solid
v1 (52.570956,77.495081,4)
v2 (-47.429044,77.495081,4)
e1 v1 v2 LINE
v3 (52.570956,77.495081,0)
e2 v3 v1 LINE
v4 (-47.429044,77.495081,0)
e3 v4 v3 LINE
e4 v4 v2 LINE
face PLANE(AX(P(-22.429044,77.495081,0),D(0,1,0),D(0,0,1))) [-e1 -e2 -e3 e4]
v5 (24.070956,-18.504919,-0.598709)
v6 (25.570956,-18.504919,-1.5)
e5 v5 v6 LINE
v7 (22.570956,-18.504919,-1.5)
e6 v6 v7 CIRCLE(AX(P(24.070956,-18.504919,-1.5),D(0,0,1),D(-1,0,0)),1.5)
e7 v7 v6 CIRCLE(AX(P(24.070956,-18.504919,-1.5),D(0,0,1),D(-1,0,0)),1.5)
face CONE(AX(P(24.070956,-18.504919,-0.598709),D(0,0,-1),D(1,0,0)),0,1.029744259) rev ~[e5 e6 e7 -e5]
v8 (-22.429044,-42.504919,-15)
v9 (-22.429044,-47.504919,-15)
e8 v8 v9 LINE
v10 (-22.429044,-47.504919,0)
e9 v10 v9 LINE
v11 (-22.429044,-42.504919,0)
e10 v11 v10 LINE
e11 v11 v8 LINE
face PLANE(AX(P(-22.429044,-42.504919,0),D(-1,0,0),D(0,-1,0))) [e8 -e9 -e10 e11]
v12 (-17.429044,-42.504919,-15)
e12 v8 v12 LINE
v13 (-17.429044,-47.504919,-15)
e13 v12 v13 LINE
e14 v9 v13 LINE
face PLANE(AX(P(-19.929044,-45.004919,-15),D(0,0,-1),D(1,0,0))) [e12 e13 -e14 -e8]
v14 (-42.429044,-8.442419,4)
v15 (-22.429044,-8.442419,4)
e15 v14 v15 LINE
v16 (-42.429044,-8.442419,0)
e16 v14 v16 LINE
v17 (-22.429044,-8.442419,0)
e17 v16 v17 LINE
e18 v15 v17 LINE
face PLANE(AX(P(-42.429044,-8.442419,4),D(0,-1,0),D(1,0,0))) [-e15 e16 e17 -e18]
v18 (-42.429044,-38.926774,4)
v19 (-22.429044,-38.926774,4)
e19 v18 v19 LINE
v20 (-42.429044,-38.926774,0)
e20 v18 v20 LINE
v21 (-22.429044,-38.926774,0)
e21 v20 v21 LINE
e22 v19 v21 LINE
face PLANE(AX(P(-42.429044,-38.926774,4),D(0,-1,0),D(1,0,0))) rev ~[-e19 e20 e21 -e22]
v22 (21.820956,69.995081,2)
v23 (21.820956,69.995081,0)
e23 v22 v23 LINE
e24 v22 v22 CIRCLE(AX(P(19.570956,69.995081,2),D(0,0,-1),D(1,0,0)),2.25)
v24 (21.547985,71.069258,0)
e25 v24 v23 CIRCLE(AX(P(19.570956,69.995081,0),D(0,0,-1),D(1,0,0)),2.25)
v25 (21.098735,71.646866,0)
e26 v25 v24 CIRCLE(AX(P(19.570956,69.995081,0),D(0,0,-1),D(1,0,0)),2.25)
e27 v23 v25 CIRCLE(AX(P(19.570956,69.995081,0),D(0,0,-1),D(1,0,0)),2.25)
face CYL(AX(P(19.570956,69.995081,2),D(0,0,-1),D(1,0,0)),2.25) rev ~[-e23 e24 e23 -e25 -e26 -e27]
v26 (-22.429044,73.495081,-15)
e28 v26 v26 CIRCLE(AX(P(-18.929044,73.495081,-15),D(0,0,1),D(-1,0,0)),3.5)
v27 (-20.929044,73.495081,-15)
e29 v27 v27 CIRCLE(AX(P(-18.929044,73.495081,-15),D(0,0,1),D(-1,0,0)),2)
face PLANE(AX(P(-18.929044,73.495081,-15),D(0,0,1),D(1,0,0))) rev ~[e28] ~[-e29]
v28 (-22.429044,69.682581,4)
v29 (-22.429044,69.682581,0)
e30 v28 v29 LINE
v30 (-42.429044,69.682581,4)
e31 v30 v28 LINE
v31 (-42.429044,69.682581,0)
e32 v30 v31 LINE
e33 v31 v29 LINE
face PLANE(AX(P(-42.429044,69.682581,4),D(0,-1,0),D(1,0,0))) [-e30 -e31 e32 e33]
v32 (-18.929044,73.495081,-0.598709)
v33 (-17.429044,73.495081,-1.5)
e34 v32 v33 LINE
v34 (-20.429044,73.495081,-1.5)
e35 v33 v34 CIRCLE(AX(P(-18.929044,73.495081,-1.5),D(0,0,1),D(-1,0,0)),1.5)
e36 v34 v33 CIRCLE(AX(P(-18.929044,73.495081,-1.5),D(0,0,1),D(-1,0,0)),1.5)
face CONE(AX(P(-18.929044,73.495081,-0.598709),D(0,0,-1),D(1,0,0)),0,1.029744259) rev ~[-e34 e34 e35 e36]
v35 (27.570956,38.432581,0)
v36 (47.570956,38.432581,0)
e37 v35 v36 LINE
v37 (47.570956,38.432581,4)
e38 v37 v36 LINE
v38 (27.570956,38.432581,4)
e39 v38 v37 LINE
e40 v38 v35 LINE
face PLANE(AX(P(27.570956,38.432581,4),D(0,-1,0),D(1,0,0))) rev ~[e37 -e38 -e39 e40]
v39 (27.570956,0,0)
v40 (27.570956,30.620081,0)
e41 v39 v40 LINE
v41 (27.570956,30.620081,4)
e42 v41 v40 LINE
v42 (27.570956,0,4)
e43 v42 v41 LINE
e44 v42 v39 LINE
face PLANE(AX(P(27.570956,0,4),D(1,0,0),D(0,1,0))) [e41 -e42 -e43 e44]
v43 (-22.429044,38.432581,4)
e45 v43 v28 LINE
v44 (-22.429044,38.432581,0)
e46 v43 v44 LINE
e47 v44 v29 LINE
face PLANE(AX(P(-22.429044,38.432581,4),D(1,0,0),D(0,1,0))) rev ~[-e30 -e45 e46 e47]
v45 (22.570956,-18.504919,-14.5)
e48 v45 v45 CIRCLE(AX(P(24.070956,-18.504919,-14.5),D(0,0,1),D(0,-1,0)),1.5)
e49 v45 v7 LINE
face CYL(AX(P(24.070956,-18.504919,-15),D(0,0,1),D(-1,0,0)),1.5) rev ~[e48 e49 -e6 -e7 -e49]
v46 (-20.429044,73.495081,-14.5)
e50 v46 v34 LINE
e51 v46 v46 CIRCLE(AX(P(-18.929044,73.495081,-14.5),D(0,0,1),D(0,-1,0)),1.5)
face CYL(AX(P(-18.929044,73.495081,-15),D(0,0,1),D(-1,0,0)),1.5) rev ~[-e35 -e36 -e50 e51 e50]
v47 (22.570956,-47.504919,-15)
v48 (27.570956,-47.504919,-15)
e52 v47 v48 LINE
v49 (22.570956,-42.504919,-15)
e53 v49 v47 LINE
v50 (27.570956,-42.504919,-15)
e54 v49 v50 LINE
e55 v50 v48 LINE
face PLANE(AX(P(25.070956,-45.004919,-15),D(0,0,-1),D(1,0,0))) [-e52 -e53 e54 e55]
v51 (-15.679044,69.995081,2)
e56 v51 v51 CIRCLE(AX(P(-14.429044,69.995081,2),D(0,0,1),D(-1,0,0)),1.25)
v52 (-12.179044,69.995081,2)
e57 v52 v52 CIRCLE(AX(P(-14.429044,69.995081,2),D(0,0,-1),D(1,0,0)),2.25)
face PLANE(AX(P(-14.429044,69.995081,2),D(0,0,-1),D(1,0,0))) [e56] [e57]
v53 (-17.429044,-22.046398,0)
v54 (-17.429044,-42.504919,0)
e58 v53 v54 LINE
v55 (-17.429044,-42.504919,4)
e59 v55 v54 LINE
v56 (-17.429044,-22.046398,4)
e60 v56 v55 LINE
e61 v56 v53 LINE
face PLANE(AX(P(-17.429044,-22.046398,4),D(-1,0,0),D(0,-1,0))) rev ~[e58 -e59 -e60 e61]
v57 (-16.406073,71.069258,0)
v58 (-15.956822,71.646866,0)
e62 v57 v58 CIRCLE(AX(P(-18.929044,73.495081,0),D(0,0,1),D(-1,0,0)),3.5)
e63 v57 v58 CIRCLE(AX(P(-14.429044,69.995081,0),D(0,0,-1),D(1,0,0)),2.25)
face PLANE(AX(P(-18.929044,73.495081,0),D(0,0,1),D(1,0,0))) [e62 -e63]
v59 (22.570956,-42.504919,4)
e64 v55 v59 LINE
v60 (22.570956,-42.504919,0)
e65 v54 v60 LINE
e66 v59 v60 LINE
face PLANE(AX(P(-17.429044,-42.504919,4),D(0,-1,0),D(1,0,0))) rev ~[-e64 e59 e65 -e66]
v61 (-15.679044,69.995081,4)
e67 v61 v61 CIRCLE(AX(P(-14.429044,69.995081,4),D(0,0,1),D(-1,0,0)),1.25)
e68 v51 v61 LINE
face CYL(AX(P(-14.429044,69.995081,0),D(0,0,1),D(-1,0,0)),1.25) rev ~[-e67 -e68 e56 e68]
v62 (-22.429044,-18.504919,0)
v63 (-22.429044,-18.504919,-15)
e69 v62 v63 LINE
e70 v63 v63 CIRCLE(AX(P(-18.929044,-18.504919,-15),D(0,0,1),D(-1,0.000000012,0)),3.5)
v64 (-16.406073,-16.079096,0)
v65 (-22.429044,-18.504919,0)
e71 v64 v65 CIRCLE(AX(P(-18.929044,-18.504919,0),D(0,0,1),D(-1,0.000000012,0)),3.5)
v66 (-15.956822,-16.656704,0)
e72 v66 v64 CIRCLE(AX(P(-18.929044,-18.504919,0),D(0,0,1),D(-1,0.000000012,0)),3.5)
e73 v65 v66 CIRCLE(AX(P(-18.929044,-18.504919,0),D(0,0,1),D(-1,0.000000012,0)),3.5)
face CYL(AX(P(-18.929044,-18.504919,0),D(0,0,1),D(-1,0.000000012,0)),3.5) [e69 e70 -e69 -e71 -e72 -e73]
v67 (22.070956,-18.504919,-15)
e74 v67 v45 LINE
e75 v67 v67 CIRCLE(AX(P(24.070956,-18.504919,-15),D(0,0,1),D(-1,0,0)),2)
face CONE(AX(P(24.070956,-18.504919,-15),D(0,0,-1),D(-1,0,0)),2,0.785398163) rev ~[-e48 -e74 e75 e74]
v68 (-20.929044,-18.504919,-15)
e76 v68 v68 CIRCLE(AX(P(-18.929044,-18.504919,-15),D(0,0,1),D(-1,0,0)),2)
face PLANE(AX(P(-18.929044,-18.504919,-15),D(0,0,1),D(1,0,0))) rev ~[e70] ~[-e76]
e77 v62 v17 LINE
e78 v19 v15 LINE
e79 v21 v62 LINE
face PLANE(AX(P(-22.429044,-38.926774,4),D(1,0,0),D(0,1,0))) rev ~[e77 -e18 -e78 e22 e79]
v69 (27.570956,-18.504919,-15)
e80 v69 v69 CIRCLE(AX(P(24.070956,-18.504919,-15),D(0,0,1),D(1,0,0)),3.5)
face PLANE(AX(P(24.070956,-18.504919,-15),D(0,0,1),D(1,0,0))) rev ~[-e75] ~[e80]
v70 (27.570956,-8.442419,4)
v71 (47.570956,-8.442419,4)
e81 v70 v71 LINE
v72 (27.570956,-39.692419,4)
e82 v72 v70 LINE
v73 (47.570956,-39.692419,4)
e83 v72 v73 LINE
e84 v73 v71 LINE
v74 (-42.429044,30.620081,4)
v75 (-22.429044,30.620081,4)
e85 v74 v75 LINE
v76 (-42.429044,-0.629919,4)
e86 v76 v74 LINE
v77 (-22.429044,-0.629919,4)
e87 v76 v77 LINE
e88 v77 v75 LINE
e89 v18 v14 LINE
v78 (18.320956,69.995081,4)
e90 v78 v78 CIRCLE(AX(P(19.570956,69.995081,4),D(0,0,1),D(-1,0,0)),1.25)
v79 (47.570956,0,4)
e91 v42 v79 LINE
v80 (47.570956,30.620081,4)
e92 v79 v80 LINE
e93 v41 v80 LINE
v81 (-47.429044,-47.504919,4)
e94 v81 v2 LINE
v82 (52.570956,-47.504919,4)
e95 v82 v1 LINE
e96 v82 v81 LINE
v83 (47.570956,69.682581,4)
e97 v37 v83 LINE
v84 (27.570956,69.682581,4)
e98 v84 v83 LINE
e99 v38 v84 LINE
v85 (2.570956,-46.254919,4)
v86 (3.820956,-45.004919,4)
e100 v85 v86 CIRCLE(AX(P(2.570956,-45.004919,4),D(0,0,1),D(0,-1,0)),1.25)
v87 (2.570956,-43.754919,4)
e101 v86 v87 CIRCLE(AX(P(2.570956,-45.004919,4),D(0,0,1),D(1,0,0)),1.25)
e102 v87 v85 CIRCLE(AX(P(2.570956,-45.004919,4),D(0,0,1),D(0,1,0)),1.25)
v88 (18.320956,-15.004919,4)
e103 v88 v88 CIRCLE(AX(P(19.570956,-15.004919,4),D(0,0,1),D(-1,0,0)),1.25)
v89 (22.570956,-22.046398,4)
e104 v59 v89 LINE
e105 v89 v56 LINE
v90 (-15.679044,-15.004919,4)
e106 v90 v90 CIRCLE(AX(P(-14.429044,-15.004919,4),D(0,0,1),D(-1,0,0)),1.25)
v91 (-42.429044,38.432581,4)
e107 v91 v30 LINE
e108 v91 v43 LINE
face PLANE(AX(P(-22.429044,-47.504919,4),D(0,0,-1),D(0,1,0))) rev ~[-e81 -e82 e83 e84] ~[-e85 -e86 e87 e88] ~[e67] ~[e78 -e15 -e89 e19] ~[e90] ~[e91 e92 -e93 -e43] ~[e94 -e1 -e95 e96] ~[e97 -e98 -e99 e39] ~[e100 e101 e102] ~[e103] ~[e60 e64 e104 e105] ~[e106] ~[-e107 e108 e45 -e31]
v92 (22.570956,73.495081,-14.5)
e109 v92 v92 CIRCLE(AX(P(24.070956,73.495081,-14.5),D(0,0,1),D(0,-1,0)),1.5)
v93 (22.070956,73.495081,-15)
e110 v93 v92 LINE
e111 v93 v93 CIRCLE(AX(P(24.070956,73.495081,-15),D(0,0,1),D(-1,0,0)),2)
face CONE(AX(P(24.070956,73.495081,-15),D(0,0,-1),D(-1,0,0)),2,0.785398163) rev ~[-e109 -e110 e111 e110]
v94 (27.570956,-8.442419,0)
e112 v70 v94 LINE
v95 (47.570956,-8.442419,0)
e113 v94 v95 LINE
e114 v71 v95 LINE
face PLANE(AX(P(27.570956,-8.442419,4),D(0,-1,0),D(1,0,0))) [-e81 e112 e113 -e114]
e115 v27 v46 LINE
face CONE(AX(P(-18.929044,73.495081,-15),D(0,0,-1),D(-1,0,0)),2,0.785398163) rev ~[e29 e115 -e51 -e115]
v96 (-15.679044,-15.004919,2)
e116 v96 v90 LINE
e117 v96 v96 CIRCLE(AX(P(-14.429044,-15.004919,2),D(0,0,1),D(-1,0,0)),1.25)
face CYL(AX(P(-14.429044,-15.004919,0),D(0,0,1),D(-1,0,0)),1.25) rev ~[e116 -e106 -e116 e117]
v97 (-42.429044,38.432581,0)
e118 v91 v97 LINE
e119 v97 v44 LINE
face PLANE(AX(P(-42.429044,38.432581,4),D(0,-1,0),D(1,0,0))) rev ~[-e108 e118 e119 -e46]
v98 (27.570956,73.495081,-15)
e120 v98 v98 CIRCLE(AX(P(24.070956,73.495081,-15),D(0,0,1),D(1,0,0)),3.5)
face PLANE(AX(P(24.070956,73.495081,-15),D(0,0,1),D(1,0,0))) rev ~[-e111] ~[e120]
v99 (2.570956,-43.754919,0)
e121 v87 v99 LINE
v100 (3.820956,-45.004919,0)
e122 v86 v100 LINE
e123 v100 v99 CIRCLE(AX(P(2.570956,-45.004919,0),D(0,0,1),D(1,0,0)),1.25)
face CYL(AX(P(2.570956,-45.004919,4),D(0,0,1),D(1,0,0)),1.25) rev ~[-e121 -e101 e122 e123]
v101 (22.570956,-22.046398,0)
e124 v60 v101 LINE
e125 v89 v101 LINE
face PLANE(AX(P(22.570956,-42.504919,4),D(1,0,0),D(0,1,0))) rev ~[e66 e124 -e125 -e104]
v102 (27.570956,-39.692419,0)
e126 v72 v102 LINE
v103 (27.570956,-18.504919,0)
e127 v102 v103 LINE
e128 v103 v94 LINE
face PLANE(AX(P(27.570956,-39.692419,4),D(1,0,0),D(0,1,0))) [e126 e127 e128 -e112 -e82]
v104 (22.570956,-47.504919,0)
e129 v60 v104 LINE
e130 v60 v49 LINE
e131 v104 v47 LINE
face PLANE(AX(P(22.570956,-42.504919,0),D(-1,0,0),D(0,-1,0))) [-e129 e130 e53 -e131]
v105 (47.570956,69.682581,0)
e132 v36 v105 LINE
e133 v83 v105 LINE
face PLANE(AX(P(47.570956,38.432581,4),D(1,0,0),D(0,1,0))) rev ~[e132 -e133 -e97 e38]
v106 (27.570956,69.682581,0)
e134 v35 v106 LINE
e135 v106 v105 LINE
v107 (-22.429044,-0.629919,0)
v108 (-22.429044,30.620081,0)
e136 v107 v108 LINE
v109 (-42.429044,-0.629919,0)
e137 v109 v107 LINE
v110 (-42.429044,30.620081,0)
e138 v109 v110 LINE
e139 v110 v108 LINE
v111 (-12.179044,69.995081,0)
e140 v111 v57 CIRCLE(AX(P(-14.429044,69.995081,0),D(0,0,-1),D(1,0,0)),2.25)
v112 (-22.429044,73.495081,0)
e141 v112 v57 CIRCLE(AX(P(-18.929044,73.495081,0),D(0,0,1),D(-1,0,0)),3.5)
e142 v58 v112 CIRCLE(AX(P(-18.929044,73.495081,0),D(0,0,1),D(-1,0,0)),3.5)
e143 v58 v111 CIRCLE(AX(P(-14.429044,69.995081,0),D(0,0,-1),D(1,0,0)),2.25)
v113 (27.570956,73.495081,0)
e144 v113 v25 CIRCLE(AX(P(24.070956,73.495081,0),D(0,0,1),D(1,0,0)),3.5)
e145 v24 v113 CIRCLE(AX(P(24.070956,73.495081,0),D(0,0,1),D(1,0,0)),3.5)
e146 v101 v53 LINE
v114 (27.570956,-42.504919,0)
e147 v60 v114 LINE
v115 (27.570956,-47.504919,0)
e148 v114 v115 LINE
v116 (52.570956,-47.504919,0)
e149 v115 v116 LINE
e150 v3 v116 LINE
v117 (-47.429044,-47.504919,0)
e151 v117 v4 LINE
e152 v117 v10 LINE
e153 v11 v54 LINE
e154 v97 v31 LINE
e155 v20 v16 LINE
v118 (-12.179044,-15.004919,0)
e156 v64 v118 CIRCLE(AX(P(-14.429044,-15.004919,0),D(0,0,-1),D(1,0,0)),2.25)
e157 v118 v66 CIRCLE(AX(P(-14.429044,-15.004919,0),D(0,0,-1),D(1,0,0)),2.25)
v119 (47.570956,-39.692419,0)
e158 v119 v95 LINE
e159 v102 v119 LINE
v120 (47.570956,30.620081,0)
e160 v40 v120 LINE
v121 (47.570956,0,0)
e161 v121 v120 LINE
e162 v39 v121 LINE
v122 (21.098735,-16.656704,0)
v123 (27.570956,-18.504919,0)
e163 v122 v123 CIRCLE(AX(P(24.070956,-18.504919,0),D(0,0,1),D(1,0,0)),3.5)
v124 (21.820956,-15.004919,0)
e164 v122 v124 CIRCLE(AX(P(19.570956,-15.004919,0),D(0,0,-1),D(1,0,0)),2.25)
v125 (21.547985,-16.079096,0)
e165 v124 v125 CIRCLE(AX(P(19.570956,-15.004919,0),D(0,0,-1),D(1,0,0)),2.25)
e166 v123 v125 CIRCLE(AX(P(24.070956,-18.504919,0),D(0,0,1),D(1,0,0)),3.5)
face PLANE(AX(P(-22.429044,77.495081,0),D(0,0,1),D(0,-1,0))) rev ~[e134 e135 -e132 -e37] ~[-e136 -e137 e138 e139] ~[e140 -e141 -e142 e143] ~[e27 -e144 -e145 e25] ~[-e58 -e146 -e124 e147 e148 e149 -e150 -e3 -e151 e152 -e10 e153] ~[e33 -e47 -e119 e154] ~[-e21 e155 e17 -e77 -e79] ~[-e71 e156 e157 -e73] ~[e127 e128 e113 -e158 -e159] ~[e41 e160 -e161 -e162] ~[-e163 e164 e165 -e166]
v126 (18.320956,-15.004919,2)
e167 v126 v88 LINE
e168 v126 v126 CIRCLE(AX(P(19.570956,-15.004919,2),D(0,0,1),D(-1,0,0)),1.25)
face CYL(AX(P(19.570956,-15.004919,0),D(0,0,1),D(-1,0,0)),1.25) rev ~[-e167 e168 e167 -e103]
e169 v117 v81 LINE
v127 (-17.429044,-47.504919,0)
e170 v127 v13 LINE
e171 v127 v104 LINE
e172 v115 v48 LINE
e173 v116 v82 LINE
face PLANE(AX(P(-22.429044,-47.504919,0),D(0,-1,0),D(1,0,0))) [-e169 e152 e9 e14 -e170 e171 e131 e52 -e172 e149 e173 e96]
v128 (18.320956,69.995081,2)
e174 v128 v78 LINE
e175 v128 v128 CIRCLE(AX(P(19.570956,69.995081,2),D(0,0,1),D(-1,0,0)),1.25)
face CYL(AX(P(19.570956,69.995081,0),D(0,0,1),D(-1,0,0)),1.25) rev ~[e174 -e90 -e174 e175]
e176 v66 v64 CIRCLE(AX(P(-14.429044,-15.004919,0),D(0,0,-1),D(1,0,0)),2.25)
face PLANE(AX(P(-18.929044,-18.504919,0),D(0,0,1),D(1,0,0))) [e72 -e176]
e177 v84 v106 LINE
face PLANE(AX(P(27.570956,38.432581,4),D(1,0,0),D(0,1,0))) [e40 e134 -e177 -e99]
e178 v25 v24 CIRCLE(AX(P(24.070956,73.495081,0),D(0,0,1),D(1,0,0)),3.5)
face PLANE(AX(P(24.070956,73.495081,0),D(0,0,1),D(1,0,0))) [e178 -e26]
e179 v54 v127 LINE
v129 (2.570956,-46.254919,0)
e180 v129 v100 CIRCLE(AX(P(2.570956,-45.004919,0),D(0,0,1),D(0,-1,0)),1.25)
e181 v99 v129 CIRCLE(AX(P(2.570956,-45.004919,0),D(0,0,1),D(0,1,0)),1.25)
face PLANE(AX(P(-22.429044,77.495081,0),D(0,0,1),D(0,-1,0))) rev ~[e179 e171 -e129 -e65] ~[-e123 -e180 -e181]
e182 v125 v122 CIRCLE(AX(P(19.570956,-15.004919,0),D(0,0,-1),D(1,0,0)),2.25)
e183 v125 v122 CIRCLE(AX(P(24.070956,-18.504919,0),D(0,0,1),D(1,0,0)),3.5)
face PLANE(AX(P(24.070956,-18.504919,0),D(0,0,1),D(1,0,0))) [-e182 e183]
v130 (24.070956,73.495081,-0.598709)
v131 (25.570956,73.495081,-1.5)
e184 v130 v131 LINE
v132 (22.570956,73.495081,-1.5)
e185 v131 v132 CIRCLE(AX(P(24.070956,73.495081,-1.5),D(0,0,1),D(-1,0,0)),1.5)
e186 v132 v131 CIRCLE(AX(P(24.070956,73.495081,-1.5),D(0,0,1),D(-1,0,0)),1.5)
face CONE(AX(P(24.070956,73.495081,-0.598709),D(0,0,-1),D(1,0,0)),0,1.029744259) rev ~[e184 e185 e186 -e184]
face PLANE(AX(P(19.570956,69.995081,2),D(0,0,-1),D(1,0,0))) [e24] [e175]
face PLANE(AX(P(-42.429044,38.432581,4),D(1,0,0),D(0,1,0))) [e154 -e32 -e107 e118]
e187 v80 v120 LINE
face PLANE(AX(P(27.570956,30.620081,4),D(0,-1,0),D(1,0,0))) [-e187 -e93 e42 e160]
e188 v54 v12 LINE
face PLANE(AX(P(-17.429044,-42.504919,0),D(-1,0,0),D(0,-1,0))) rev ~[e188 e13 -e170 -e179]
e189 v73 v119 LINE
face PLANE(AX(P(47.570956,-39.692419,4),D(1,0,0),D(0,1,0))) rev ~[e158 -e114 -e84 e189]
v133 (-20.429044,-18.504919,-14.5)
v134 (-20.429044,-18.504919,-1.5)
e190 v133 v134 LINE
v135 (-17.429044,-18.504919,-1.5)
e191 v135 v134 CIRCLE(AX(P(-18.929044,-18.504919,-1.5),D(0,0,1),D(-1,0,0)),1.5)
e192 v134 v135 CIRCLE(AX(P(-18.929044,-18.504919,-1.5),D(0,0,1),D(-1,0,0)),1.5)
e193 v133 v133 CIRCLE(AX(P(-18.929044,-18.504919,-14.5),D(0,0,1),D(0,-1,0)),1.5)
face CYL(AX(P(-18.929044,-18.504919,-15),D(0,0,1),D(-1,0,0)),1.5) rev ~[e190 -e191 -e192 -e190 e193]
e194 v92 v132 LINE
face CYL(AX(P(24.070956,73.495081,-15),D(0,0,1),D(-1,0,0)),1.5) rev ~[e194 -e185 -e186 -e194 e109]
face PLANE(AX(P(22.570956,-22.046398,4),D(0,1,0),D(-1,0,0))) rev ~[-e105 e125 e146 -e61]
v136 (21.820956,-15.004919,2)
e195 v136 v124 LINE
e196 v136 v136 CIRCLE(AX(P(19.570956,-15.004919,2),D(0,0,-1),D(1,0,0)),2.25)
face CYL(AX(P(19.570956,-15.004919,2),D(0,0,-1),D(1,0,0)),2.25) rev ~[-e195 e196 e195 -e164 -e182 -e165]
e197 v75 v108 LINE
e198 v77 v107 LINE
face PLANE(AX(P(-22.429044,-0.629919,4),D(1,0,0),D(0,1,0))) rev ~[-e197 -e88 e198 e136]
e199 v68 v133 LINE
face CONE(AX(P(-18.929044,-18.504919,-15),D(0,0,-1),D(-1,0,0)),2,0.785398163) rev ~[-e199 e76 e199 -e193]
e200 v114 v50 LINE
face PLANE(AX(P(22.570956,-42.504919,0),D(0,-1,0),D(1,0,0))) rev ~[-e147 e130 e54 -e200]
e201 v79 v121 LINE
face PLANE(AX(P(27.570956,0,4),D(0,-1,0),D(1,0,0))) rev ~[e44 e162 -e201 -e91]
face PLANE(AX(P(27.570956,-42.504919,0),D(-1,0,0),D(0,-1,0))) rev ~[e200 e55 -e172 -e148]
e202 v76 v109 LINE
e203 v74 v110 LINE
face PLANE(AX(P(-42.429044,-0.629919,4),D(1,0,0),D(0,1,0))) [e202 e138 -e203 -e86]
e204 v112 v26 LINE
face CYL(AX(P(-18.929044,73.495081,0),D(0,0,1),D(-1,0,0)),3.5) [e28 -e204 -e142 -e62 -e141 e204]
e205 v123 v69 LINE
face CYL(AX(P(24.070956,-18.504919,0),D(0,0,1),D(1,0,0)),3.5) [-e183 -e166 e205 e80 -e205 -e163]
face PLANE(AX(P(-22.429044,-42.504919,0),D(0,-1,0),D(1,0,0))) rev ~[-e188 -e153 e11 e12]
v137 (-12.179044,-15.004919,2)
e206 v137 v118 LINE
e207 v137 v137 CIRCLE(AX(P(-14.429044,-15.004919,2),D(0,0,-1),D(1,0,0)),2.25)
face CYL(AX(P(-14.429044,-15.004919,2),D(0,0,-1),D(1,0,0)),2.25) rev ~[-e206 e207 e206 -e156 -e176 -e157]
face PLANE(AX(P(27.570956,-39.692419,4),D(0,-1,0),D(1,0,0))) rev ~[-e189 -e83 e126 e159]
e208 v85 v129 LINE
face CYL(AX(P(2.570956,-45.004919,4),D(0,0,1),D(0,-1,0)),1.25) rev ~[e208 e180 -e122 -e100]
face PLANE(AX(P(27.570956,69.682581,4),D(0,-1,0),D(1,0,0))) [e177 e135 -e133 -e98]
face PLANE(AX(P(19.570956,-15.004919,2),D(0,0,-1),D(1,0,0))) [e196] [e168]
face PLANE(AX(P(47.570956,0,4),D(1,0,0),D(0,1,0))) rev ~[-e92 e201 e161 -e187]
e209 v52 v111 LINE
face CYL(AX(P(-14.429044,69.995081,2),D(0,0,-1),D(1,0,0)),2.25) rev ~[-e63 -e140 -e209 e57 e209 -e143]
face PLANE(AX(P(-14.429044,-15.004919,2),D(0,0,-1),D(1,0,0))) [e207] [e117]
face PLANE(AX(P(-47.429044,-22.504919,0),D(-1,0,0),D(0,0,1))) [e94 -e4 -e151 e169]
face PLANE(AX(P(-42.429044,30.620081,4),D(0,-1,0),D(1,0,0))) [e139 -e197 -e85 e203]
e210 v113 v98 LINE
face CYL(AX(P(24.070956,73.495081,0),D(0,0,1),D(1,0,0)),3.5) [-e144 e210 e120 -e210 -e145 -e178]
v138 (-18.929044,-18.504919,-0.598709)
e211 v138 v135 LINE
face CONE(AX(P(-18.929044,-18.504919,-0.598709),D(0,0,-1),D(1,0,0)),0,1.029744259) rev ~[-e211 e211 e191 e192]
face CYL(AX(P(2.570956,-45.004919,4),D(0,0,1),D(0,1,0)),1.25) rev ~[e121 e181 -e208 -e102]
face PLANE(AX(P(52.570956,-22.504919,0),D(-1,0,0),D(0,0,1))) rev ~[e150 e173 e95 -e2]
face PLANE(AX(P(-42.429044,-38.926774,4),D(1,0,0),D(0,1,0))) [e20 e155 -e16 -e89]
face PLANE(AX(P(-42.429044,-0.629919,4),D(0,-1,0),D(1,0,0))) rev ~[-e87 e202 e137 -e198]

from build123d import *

# Parameters (mm, degrees)
F4_R            = 3.5
F5_DEPTH        = 4
F6_D            = 2.5
F6_CBORE_D      = 4.5
F6_CBORE_DEPTH  = 2
F7_DEPTH        = 15
F9_D            = 3
F9_DEPTH        = 13.5
F9_CSINK_D      = 4
F9_CSINK_ANGLE  = 90
F9_TIP          = 0.9012909285
F11_D           = 3
F11_DEPTH       = 13.5
F11_CSINK_D     = 4
F11_CSINK_ANGLE = 90
F11_TIP         = 0.9012909285
F13_D           = 3
F13_DEPTH       = 13.5
F13_CSINK_D     = 4
F13_CSINK_ANGLE = 90
F13_TIP         = 0.9012909285
F15_D           = 3
F15_DEPTH       = 13.5
F15_CSINK_D     = 4
F15_CSINK_ANGLE = 90
F15_TIP         = 0.9012909285
F16_DEPTH       = 25
F18_DEPTH       = 4
F20_DEPTH       = 25
F21_DEPTH       = 25
F22_W           = 20
F22_H           = 30.4843550548
F22_H_2         = 31.25
F22_H_3         = 30.620081059
F23_DEPTH       = 4
F19_W           = 5
F19_H           = 5
F24_DEPTH       = 15


with BuildPart() as f5:
    # F4 (on Top) → F5 (new body)
    with BuildSketch(Plane.XY):
        Polygon((27.5709562153, 77.495081059), (-22.4290437847, 77.495081059), (-22.4290437847, 73.495081059), (-22.4290437847, -18.5049188996), (-22.4290437847, -22.504918941), (27.5709562153, -22.504918941), (27.5709562153, -18.504918941), (27.5709562153, 73.495081059), align=None)
        with BuildLine():
            ThreePointArc((-15.4290437847, -18.504918941), (-18.9290438054, -22.004918941), (-22.4290437847, -18.5049188996))
            ThreePointArc((-22.4290437847, -18.5049188996), (-18.9290437641, -15.004918941), (-15.4290437847, -18.504918941))
        make_face(mode=Mode.SUBTRACT)
        with Locations((24.0709562153, -18.504918941)):
            Circle(F4_R, mode=Mode.SUBTRACT)
        with BuildLine():
            ThreePointArc((-15.4290437847, 73.495081059), (-18.9290437847, 69.995081059), (-22.4290437847, 73.495081059))
            ThreePointArc((-22.4290437847, 73.495081059), (-18.9290437847, 76.995081059), (-15.4290437847, 73.495081059))
        make_face(mode=Mode.SUBTRACT)
        with Locations((24.0709562153, 73.495081059)):
            Circle(F4_R, mode=Mode.SUBTRACT)
        with BuildLine():
            ThreePointArc((-15.4290437847, -18.504918941), (-18.9290437641, -15.004918941), (-22.4290437847, -18.5049188996))
            ThreePointArc((-22.4290437847, -18.5049188996), (-18.9290438054, -22.004918941), (-15.4290437847, -18.504918941))
        make_face()
        with Locations((24.0709562153, -18.504918941)):
            Circle(F4_R)
        with BuildLine():
            ThreePointArc((-15.4290437847, 73.495081059), (-18.9290437847, 76.995081059), (-22.4290437847, 73.495081059))
            ThreePointArc((-22.4290437847, 73.495081059), (-18.9290437847, 69.995081059), (-15.4290437847, 73.495081059))
        make_face()
        with Locations((24.0709562153, 73.495081059)):
            Circle(F4_R)
    extrude(amount=F5_DEPTH)

    # F6 (through all)
    with Locations(Plane(origin=(0, 0, 0), x_dir=(1, 0, 0), z_dir=(0, 0, -1))):
        with Locations((19.5709562153, -69.995081059), (19.5709562153, 15.004918941), (-14.4290437847, 15.004918941), (-14.4290437847, -69.995081059)):
            CounterBoreHole(F6_D / 2, F6_CBORE_D / 2, F6_CBORE_DEPTH)

    # F4 (on Top) → F7 (join)
    with BuildSketch(Plane.XY):
        with BuildLine():
            ThreePointArc((-15.4290437847, -18.504918941), (-18.9290437641, -15.004918941), (-22.4290437847, -18.5049188996))
            ThreePointArc((-22.4290437847, -18.5049188996), (-18.9290438054, -22.004918941), (-15.4290437847, -18.504918941))
        make_face()
        with Locations((24.0709562153, -18.504918941)):
            Circle(F4_R)
        with BuildLine():
            ThreePointArc((-15.4290437847, 73.495081059), (-18.9290437847, 76.995081059), (-22.4290437847, 73.495081059))
            ThreePointArc((-22.4290437847, 73.495081059), (-18.9290437847, 69.995081059), (-15.4290437847, 73.495081059))
        make_face()
        with Locations((24.0709562153, 73.495081059)):
            Circle(F4_R)
    extrude(amount=-F7_DEPTH)

    # F9
    with Locations(Plane(origin=(0, 0, -15), x_dir=(1, 0, 0), z_dir=(0, 0, -1))):
        with Locations((-18.9290437847, -73.495081059)):
            CounterSinkHole(F9_D / 2, F9_CSINK_D / 2, depth=F9_DEPTH, counter_sink_angle=F9_CSINK_ANGLE)
            with Locations((0, 0, -(F9_DEPTH + F9_TIP / 2))):  # 118° drill point
                Cone(0, F9_D / 2, F9_TIP, mode=Mode.SUBTRACT)

    # F11
    with Locations(Plane(origin=(0, 0, -15), x_dir=(1, 0, 0), z_dir=(0, 0, -1))):
        with Locations((-18.9290437847, 18.504918941)):
            CounterSinkHole(F11_D / 2, F11_CSINK_D / 2, depth=F11_DEPTH, counter_sink_angle=F11_CSINK_ANGLE)
            with Locations((0, 0, -(F11_DEPTH + F11_TIP / 2))):  # 118° drill point
                Cone(0, F11_D / 2, F11_TIP, mode=Mode.SUBTRACT)

    # F13
    with Locations(Plane(origin=(0, 0, -15), x_dir=(1, 0, 0), z_dir=(0, 0, -1))):
        with Locations((24.0709562153, -73.495081059)):
            CounterSinkHole(F13_D / 2, F13_CSINK_D / 2, depth=F13_DEPTH, counter_sink_angle=F13_CSINK_ANGLE)
            with Locations((0, 0, -(F13_DEPTH + F13_TIP / 2))):  # 118° drill point
                Cone(0, F13_D / 2, F13_TIP, mode=Mode.SUBTRACT)

    # F15
    with Locations(Plane(origin=(0, 0, -15), x_dir=(1, 0, 0), z_dir=(0, 0, -1))):
        with Locations((24.0709562153, 18.504918941)):
            CounterSinkHole(F15_D / 2, F15_CSINK_D / 2, depth=F15_DEPTH, counter_sink_angle=F15_CSINK_ANGLE)
            with Locations((0, 0, -(F15_DEPTH + F15_TIP / 2))):  # 118° drill point
                Cone(0, F15_D / 2, F15_TIP, mode=Mode.SUBTRACT)

    # F16 (add): a face of the model
    f16_faces = [f5.faces().sort_by_distance(p)[0] for p in [
        (2.5709562153, -22.504918941, 2),
    ]]
    extrude(f16_faces, amount=F16_DEPTH)

    # F17 (on face) → F18 (cut)
    with BuildSketch(Plane.XY.offset(4)):
        Polygon((2.5709562153, -42.504918941), (22.5709562153, -42.504918941), (22.5709562153, -22.0463977089), (-17.4290437847, -22.0463977089), (-17.4290437847, -42.504918941), align=None)
        with BuildLine():
            Line((2.5709562153, -46.254918941), (2.5709562153, -43.754918941))
            ThreePointArc((2.5709562153, -43.754918941), (1.3209562153, -45.004918941), (2.5709562153, -46.254918941))
        make_face()
        with BuildLine():
            ThreePointArc((3.8209562153, -45.004918941), (3.4548396917, -44.1210354645), (2.5709562153, -43.754918941))
            Line((2.5709562153, -43.754918941), (2.5709562153, -46.254918941))
            ThreePointArc((2.5709562153, -46.254918941), (3.4548396917, -45.8888024175), (3.8209562153, -45.004918941))
        make_face()
    extrude(amount=-F18_DEPTH, mode=Mode.SUBTRACT)

    # F20 (add): a face of the model
    f20_faces = [f5.faces().sort_by_distance(p)[0] for p in [
        (27.5709562153, 14.995081059, 2),
    ]]
    extrude(f20_faces, amount=F20_DEPTH)

    # F21 (add): a face of the model
    f21_faces = [f5.faces().sort_by_distance(p)[0] for p in [
        (-22.4290437847, 14.995081059, 2),
    ]]
    extrude(f21_faces, amount=F21_DEPTH)

    # F22 (on face) → F23 (cut)
    with BuildSketch(Plane.XY.offset(4)):
        with Locations((-32.4290437847, -23.6845964684)):
            Rectangle(F22_W, F22_H)
        with Locations((-32.4290437847, 14.995081059)):
            Rectangle(F22_W, F22_H_2)
        with Locations((-32.4290437847, 54.057581059)):
            Rectangle(F22_W, F22_H_2)
        with Locations((37.5709562153, 54.057581059)):
            Rectangle(F22_W, F22_H_2)
        with Locations((37.5709562153, 15.3100405295)):
            Rectangle(F22_W, F22_H_3)
        with Locations((37.5709562153, -24.067418941)):
            Rectangle(F22_W, F22_H_2)
    extrude(amount=-F23_DEPTH, mode=Mode.SUBTRACT)

    # F19 (on face) → F24 (join)
    with BuildSketch(Plane(origin=(0, 0, 0), x_dir=(1, 0, 0), z_dir=(0, 0, -1))):
        with Locations((-19.9290437847, 45.004918941)):
            Rectangle(F19_W, F19_H)
        with Locations((25.0709562153, 45.004918941)):
            Rectangle(F19_W, F19_H)
    extrude(amount=F24_DEPTH)


solid = f5.part
